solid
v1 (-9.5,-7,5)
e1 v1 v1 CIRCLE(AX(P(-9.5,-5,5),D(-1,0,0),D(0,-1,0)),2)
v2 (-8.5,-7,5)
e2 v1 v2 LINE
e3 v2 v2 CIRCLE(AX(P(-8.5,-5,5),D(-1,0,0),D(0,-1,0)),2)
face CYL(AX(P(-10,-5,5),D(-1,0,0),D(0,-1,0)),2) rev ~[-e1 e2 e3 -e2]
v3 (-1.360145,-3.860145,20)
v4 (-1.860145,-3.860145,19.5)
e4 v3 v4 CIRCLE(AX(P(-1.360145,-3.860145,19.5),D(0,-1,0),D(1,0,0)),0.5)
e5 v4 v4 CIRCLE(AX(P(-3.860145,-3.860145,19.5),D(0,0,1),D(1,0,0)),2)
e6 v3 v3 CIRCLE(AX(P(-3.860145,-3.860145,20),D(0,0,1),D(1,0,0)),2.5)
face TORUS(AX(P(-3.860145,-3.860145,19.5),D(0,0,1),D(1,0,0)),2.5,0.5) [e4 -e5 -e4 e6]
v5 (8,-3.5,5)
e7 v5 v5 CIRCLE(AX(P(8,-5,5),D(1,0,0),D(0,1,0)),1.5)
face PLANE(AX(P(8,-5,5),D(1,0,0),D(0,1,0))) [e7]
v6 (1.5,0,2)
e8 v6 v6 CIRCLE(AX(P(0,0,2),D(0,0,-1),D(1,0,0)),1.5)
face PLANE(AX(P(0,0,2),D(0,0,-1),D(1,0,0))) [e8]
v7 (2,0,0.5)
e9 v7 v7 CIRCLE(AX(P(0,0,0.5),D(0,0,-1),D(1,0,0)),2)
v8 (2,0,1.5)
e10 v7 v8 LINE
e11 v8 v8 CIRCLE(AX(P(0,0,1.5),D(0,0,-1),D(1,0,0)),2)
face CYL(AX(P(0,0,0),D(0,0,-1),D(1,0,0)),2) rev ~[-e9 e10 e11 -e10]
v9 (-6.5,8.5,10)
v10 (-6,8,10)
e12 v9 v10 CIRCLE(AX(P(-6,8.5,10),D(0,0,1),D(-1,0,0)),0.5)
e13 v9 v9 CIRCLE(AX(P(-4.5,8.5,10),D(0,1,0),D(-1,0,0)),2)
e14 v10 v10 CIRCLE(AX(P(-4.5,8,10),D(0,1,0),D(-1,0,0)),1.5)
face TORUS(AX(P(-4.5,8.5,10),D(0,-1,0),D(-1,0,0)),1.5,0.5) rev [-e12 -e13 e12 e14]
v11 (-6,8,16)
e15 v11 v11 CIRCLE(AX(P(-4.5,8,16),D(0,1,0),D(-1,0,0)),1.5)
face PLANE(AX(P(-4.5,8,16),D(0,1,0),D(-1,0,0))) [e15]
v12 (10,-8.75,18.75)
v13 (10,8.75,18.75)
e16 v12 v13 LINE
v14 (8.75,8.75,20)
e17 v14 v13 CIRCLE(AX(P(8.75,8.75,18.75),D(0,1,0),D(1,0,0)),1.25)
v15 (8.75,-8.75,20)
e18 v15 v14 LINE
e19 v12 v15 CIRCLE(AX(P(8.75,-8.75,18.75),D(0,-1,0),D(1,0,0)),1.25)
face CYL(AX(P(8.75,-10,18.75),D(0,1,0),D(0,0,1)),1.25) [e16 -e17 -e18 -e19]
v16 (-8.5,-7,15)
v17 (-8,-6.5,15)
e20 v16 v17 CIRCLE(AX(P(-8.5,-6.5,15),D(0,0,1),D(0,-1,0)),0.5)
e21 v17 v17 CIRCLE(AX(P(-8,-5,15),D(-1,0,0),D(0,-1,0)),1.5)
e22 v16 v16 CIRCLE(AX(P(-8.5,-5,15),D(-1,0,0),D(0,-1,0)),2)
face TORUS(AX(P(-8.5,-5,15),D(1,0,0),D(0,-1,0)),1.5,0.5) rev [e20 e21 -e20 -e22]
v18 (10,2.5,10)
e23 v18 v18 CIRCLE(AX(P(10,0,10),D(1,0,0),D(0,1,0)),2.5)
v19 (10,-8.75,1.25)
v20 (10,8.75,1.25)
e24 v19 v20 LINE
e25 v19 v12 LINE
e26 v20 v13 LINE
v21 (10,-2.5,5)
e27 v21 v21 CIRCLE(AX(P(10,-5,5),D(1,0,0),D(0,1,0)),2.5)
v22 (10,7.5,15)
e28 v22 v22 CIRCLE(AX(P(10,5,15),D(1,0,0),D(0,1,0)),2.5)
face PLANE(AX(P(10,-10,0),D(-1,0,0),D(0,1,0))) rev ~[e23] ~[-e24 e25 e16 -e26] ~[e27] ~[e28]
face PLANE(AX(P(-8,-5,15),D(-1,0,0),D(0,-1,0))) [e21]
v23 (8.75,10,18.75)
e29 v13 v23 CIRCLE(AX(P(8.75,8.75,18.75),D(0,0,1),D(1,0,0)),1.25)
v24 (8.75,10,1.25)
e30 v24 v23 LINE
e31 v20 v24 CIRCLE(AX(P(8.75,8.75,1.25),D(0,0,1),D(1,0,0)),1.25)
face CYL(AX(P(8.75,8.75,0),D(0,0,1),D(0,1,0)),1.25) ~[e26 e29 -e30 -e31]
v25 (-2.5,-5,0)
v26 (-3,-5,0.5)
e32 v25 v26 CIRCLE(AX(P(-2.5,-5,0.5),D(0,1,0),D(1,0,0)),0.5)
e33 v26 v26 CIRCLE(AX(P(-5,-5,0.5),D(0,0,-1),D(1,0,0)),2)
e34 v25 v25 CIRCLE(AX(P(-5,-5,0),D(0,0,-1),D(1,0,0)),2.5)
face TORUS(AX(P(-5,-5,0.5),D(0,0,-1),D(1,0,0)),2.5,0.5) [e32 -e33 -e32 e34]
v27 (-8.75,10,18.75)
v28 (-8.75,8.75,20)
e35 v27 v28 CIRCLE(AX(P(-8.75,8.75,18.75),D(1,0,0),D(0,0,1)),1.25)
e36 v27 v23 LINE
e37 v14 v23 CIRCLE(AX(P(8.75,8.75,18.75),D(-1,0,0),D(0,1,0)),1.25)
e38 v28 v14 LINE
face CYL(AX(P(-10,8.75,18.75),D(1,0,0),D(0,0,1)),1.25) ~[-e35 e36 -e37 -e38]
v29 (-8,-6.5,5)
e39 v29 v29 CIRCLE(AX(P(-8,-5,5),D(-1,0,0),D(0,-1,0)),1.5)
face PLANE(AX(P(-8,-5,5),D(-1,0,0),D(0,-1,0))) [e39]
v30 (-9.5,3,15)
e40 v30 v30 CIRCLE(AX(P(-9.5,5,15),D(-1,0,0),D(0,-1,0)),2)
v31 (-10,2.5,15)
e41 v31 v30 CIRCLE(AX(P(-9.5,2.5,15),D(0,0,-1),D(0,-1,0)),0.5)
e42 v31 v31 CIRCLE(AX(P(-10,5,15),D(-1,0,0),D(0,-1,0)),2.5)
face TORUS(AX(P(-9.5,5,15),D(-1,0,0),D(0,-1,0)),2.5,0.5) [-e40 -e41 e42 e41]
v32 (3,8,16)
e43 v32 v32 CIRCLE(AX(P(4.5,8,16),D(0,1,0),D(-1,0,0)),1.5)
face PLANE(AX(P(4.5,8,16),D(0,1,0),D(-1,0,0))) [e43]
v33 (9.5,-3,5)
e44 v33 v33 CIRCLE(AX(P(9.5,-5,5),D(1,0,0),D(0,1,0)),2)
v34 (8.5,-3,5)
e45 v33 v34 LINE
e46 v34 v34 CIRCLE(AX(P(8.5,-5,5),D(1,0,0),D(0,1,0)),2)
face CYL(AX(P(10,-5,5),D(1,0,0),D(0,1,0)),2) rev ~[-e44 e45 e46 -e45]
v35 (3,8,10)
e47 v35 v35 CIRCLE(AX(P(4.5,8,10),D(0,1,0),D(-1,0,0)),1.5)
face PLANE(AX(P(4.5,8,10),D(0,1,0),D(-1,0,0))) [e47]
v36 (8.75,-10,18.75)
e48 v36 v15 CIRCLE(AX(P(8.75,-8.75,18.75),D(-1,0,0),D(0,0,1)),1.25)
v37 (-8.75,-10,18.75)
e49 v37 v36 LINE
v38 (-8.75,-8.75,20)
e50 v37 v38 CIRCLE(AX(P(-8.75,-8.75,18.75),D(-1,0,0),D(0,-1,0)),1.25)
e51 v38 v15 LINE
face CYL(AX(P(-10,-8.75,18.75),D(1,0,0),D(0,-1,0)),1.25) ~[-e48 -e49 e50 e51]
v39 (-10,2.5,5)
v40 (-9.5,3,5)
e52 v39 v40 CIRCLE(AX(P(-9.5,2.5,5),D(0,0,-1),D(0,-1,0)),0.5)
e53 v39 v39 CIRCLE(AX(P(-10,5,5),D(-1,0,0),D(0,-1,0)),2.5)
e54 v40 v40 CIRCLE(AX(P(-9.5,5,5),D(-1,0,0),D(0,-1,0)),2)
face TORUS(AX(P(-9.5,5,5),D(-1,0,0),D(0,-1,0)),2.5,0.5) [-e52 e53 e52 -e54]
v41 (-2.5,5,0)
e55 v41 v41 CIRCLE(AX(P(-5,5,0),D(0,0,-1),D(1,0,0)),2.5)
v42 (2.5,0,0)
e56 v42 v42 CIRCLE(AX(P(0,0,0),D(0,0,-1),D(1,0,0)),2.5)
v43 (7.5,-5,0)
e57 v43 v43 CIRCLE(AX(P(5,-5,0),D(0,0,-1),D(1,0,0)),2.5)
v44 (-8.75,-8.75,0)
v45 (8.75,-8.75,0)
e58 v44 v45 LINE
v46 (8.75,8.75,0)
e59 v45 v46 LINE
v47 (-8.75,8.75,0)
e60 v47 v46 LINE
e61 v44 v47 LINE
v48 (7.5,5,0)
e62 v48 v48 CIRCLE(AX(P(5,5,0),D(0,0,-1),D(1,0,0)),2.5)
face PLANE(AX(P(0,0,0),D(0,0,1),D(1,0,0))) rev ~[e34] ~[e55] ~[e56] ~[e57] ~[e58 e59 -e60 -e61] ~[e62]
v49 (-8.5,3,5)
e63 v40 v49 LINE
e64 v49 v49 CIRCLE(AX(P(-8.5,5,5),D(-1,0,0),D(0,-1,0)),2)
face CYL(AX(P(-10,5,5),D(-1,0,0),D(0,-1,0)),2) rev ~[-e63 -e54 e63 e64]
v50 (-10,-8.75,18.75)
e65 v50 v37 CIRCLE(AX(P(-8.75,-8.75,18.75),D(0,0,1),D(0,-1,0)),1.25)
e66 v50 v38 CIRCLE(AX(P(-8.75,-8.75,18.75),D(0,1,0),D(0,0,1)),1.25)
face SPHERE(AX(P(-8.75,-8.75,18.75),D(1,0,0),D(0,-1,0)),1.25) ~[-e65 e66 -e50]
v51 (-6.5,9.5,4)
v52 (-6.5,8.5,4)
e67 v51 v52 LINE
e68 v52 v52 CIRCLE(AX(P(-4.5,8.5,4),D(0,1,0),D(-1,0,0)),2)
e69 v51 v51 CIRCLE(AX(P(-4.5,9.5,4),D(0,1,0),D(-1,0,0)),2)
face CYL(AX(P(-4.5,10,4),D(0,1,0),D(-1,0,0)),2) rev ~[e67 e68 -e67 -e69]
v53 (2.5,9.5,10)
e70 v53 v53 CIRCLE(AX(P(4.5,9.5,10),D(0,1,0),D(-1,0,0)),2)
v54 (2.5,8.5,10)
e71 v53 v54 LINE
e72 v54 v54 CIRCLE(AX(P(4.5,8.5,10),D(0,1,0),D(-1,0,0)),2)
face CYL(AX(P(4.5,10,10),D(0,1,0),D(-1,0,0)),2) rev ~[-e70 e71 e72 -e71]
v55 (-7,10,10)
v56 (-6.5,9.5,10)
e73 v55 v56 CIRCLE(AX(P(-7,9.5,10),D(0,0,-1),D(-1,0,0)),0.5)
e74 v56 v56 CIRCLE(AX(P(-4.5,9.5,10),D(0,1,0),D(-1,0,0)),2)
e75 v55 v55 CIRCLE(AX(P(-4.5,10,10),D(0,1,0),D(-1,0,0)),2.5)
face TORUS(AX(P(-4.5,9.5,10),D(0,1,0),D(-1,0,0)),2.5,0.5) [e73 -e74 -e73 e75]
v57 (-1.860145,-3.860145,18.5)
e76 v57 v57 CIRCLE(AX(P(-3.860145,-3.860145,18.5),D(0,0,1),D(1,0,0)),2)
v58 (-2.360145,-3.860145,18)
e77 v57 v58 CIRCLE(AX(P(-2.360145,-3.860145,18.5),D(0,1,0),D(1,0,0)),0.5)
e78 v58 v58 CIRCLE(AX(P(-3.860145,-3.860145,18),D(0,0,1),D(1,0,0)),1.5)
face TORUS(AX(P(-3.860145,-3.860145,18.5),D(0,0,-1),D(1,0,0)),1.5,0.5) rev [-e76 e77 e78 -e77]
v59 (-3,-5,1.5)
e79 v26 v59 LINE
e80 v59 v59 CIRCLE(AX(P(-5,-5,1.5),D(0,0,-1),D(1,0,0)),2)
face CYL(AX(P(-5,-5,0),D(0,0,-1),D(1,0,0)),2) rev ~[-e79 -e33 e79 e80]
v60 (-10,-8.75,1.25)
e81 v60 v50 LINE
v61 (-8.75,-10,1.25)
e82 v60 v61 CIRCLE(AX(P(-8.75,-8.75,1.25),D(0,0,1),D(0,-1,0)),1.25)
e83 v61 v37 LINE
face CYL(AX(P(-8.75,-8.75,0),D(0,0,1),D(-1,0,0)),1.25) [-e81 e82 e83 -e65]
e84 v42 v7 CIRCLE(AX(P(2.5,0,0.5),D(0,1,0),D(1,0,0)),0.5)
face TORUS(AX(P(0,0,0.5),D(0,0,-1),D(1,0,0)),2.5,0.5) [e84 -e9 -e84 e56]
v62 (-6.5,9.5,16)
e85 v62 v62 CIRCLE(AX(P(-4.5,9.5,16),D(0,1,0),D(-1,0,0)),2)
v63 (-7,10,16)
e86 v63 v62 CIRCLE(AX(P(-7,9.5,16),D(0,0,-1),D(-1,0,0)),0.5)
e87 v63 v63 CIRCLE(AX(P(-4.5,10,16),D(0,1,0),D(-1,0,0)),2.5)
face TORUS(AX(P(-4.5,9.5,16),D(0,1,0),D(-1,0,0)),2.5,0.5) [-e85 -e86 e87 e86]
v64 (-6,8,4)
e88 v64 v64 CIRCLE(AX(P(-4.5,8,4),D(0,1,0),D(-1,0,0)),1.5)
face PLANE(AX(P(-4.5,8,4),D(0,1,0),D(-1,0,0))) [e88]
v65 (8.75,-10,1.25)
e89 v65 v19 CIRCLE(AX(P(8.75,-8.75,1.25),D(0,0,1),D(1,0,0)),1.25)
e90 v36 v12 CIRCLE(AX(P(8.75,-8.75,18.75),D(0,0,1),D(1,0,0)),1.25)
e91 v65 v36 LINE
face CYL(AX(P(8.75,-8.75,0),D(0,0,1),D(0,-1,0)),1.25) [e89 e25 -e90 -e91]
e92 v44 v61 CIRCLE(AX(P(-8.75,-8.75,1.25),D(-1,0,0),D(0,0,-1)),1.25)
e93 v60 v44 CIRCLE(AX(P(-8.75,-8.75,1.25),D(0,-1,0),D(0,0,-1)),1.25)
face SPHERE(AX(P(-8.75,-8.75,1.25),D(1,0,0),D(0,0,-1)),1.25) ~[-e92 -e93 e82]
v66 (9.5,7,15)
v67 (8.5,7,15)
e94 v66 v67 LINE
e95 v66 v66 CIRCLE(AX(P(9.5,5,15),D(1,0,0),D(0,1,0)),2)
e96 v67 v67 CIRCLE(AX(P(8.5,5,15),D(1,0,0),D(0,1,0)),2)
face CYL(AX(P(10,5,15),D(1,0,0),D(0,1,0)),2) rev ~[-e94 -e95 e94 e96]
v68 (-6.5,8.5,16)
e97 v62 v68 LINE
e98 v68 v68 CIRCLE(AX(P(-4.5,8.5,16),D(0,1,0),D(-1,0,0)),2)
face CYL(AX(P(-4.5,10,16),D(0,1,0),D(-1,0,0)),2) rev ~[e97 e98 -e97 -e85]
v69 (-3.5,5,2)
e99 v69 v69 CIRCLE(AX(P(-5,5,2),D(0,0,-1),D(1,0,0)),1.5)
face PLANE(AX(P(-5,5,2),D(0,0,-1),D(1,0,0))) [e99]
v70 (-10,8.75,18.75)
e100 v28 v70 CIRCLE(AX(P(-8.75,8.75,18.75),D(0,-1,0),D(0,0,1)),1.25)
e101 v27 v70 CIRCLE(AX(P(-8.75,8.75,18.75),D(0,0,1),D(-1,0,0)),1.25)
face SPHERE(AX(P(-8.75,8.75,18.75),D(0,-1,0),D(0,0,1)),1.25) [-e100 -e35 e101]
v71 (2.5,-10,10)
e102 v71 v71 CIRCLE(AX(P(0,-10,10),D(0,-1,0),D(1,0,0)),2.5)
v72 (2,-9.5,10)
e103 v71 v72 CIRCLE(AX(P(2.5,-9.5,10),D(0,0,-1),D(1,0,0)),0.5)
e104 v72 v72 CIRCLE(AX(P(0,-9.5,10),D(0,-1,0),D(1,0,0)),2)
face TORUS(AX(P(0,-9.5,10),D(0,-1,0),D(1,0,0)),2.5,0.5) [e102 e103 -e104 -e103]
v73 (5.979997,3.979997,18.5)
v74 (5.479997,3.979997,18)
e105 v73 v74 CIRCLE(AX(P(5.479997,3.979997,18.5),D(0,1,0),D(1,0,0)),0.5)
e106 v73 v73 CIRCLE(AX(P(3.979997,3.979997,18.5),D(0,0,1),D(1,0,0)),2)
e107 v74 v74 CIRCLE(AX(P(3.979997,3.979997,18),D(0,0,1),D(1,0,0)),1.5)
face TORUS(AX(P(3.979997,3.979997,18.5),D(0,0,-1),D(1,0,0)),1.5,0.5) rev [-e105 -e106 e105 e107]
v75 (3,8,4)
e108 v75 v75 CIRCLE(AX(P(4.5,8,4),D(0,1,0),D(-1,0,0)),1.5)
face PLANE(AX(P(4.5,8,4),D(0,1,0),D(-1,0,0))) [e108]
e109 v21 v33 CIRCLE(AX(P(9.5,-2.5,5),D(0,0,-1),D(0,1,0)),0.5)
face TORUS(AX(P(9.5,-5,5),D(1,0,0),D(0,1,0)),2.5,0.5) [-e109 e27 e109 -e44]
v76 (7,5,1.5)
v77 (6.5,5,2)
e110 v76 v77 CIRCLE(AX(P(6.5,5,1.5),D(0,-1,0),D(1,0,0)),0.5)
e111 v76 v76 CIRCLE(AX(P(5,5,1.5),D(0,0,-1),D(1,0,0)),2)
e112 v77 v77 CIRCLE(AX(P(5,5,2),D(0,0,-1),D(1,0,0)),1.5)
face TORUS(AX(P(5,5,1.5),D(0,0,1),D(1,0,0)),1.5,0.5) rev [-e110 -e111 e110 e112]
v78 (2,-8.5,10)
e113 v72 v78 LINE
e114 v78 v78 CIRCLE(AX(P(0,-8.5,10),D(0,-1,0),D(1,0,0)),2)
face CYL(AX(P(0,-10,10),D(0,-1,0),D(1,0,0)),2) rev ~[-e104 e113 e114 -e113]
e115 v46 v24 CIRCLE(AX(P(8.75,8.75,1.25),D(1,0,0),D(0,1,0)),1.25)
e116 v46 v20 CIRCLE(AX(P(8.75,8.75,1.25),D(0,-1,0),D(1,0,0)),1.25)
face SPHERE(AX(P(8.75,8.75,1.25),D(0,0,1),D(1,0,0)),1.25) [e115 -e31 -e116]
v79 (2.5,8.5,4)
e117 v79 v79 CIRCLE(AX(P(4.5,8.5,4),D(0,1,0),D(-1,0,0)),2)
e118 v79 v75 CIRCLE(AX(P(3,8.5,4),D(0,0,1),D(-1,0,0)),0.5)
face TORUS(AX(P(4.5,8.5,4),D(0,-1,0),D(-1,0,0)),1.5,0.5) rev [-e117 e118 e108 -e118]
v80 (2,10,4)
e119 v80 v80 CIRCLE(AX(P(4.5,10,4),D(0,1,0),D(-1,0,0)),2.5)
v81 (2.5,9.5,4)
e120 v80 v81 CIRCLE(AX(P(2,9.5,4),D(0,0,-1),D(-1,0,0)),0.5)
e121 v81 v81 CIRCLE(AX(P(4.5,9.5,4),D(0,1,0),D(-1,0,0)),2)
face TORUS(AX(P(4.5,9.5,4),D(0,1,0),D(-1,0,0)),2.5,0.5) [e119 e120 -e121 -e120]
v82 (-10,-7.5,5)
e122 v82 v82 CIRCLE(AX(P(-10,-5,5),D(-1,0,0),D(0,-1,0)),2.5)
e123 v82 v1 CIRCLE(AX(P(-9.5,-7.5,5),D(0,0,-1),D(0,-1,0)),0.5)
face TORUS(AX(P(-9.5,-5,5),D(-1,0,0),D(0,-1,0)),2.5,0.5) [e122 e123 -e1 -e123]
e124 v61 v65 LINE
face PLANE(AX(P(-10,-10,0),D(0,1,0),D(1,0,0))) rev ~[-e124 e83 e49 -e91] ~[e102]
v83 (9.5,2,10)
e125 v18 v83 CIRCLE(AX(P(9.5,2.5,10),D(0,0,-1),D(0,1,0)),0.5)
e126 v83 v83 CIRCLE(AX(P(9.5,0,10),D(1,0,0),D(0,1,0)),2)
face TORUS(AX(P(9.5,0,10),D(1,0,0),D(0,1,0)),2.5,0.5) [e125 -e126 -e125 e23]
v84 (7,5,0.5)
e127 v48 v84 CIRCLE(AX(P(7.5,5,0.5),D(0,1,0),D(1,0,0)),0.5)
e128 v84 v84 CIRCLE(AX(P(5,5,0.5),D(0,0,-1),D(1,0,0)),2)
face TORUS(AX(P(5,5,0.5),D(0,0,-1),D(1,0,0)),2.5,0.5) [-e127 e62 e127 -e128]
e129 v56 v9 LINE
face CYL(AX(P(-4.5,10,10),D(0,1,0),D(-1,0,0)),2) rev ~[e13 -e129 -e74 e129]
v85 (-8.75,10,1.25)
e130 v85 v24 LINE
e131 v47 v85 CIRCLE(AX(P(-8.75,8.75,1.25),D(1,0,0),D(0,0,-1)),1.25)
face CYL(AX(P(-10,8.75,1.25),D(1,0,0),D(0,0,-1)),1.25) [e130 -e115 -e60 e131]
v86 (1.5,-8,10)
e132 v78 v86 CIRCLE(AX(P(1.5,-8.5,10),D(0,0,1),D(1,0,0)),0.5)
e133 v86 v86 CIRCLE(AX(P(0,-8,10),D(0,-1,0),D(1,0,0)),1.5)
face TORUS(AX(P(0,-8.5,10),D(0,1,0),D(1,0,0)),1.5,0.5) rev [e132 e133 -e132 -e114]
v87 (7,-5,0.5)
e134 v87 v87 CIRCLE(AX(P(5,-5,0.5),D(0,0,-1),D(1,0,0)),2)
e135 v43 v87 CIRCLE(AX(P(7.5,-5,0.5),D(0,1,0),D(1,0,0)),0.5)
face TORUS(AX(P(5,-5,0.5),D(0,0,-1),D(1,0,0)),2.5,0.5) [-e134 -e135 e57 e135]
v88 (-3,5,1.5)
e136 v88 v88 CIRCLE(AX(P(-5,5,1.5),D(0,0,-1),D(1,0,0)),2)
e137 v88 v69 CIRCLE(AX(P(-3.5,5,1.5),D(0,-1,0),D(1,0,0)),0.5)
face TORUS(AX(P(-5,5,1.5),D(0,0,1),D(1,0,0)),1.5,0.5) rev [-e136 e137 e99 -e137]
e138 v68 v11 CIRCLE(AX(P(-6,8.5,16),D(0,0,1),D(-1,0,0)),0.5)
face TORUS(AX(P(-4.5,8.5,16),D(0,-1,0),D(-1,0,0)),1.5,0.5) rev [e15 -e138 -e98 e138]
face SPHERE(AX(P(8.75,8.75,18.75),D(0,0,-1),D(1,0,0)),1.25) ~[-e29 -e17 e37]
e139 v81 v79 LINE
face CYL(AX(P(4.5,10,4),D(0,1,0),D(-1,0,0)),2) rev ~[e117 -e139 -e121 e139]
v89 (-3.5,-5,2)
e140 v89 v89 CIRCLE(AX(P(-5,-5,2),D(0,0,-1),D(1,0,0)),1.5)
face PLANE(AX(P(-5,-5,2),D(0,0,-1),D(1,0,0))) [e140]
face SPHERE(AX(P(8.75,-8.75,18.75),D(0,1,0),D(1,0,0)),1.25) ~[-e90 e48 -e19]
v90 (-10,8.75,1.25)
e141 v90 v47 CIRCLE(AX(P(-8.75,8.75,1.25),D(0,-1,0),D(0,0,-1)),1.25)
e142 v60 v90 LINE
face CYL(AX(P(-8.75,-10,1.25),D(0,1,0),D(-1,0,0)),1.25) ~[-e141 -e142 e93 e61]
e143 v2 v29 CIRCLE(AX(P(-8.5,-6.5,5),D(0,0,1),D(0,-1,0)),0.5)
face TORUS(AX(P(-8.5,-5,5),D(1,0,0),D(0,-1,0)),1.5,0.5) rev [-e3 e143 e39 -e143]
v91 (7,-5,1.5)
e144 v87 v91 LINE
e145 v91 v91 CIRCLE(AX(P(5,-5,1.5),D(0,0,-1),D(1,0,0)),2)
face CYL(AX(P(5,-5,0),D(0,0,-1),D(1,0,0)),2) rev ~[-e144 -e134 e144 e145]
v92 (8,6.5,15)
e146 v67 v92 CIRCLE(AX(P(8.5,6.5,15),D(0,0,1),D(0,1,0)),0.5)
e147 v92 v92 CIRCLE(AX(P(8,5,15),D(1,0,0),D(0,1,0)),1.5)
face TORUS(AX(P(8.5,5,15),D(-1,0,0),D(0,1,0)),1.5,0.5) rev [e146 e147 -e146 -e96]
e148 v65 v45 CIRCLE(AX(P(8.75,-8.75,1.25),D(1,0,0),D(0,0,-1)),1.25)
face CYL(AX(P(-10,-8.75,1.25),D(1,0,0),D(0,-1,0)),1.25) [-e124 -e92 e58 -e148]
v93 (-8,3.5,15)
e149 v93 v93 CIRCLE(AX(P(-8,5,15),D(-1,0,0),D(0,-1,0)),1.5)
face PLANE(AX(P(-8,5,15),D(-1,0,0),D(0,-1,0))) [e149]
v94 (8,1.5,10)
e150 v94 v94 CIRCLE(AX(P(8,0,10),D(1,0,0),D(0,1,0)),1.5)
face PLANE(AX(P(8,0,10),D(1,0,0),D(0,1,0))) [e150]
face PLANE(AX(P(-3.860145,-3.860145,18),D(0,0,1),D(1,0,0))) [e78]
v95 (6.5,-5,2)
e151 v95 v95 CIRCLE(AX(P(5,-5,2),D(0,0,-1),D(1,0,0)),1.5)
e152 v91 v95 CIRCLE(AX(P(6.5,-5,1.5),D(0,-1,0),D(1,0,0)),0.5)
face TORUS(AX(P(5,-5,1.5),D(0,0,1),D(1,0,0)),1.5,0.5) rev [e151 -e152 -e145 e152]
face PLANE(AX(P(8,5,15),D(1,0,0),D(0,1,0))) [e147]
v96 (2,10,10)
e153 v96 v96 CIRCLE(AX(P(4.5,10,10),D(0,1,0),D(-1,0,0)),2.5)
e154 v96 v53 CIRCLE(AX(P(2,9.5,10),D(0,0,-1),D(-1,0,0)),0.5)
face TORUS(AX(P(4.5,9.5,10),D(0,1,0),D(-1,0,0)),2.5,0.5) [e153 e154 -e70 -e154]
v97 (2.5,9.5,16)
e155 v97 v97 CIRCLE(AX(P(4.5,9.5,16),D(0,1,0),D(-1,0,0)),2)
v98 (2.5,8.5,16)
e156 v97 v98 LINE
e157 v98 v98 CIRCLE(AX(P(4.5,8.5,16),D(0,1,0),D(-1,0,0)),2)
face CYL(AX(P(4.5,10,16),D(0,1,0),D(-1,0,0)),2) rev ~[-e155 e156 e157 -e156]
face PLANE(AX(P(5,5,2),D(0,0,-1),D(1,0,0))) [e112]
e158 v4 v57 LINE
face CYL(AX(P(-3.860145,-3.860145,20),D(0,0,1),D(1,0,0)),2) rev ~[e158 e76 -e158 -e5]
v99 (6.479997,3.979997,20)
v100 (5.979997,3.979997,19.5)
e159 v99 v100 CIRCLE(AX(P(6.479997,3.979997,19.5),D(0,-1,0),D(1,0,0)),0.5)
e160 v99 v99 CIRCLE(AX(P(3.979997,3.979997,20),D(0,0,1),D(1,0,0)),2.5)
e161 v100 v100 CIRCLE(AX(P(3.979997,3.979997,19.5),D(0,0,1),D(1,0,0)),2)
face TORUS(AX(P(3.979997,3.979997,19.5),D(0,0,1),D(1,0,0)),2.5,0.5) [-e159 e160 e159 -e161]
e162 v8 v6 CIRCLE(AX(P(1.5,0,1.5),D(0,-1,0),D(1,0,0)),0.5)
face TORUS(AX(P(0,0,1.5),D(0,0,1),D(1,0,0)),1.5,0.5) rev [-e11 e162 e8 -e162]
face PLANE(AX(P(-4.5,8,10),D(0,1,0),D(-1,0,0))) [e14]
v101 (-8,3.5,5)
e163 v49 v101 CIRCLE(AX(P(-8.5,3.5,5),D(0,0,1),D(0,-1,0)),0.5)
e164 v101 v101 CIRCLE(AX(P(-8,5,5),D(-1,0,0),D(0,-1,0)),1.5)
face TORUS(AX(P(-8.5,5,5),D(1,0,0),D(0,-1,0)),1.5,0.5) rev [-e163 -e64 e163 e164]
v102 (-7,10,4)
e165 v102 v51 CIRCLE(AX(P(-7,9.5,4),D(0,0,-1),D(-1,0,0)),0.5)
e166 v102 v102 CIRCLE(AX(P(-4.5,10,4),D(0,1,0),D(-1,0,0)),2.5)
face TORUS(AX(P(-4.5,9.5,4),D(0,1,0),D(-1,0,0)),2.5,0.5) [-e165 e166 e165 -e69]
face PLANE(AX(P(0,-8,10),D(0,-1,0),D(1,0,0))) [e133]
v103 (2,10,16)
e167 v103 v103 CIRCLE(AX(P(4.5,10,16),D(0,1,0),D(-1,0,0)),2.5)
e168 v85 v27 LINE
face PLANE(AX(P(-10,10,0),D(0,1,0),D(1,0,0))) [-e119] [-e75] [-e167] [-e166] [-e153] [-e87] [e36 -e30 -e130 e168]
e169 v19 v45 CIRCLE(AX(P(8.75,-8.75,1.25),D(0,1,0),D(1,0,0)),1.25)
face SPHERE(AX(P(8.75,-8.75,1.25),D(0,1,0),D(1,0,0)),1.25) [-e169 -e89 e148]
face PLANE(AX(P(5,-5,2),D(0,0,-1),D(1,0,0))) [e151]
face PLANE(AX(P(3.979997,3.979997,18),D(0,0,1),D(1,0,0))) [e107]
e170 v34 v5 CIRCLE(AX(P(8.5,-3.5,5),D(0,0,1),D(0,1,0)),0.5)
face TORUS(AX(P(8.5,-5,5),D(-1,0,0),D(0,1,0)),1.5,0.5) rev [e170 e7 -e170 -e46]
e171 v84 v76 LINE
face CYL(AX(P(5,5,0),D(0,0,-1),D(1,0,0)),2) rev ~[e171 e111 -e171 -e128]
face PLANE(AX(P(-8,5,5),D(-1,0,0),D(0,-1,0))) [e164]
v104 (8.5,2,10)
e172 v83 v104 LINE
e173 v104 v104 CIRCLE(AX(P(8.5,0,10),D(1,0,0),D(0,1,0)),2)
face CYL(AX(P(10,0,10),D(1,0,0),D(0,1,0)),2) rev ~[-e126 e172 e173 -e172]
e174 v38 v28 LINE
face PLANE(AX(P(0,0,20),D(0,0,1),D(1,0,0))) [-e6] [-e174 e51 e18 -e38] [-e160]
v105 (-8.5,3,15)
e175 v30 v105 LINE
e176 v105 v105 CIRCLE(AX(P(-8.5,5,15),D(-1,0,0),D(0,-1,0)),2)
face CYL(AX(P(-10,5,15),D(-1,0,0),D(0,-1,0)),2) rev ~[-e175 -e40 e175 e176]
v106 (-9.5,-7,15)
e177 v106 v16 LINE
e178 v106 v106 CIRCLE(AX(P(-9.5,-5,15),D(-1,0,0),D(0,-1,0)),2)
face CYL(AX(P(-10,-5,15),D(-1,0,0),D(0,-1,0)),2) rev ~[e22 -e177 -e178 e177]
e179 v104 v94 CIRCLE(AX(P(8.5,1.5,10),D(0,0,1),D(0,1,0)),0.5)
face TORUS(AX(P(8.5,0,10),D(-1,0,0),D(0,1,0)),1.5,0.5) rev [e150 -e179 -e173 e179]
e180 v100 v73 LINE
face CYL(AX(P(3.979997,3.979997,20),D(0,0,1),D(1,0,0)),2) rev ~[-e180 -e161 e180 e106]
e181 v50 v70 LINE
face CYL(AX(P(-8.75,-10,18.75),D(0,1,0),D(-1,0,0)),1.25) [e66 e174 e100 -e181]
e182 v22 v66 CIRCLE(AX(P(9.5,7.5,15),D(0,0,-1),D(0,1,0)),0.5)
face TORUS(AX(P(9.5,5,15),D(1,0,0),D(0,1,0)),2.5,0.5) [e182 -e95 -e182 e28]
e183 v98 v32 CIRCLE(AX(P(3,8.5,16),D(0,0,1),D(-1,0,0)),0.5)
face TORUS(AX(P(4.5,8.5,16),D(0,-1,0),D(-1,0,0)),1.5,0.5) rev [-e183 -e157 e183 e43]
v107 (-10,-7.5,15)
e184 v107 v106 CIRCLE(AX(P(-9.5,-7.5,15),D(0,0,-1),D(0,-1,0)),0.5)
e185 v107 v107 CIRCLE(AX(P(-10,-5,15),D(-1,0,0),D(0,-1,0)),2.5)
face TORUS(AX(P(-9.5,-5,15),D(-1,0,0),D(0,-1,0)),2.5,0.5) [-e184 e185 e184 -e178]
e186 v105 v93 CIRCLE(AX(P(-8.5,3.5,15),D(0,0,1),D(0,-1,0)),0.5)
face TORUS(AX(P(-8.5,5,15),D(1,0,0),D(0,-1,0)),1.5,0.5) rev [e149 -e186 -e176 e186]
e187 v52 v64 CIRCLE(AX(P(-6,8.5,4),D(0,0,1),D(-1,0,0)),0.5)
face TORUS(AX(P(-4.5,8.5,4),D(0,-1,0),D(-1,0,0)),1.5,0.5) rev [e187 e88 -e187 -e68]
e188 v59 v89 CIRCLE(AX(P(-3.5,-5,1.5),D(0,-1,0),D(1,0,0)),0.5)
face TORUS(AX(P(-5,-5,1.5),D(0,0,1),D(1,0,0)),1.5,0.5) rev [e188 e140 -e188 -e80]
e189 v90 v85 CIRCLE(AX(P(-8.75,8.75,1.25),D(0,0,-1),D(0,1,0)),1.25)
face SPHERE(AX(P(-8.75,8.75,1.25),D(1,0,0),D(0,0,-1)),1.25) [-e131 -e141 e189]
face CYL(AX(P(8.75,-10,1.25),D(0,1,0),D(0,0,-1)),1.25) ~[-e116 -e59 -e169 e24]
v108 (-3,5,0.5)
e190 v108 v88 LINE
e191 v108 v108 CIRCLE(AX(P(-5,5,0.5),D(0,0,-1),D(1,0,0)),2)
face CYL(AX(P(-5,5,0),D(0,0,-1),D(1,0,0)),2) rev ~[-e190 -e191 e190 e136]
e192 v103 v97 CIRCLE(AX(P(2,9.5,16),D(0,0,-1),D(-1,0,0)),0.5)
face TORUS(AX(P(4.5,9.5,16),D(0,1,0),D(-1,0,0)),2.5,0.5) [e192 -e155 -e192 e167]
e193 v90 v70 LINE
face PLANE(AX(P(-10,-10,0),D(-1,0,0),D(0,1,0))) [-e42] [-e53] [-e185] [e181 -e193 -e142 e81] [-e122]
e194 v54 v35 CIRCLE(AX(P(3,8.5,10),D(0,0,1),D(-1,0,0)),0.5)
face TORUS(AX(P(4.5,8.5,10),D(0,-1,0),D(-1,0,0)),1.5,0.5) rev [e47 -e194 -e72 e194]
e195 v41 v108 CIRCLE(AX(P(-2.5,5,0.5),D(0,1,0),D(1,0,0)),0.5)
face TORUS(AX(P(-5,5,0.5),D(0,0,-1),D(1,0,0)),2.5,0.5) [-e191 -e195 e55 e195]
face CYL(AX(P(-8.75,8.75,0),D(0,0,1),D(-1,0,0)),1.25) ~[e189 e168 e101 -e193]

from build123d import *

# Parameters (mm, degrees)
F2_W      = 20
F2_H      = 20
F3_DEPTH  = 20
F4_R      = 2
F10_DEPTH = 2
F5_R      = 2
F11_DEPTH = 2
F8_R      = 2
F12_DEPTH = 2
F9_R      = 2
F13_DEPTH = 2
F7_R      = 2
F14_DEPTH = 2
F6_R      = 2
F15_DEPTH = 2
F16_R     = 0.5
F17_R     = 1.25


with BuildPart() as f3:
    # F2 (on Top) → F3 (new body)
    with BuildSketch(Plane.XY):
        Rectangle(F2_W, F2_H)
    extrude(amount=F3_DEPTH)

    # F4 (on face) → F10 (cut)
    with BuildSketch(Plane.XZ.offset(10)):
        with Locations((0, 10)):
            Circle(F4_R)
    extrude(amount=-F10_DEPTH, mode=Mode.SUBTRACT)

    # F5 (on face) → F11 (cut)
    with BuildSketch(Plane.XY.offset(20)):
        with Locations((-3.8601454029, -3.8601454029)):
            Circle(F5_R)
        with Locations((3.9799973459, 3.9799973459)):
            Circle(F5_R)
    extrude(amount=-F11_DEPTH, mode=Mode.SUBTRACT)

    # F8 (on face) → F12 (cut)
    with BuildSketch(Plane.YZ.offset(10)):
        with Locations((-5, 5)):
            Circle(F8_R)
        with Locations((5, 15)):
            Circle(F8_R)
        with Locations((0, 10)):
            Circle(F8_R)
    extrude(amount=-F12_DEPTH, mode=Mode.SUBTRACT)

    # F9 (on face) → F13 (cut)
    with BuildSketch(Plane(origin=(-10, 0, 0), x_dir=(0, -1, 0), z_dir=(-1, 0, 0))):
        with Locations((-5, 15)):
            Circle(F9_R)
        with Locations((5, 15)):
            Circle(F9_R)
        with Locations((5, 5)):
            Circle(F9_R)
        with Locations((-5, 5)):
            Circle(F9_R)
    extrude(amount=-F13_DEPTH, mode=Mode.SUBTRACT)

    # F7 (on face) → F14 (cut)
    with BuildSketch(Plane(origin=(0, 0, 0), x_dir=(1, 0, 0), z_dir=(0, 0, -1))):
        with Locations((-5, -5)):
            Circle(F7_R)
        with Locations((5, -5)):
            Circle(F7_R)
        Circle(F7_R)
        with Locations((-5, 5)):
            Circle(F7_R)
        with Locations((5, 5)):
            Circle(F7_R)
    extrude(amount=-F14_DEPTH, mode=Mode.SUBTRACT)

    # F6 (on face) → F15 (cut)
    with BuildSketch(Plane(origin=(0, 10, 0), x_dir=(-1, 0, 0), z_dir=(0, 1, 0))):
        with Locations((4.5, 16)):
            Circle(F6_R)
        with Locations((4.5, 10)):
            Circle(F6_R)
        with Locations((4.5, 4)):
            Circle(F6_R)
        with Locations((-4.5, 4)):
            Circle(F6_R)
        with Locations((-4.5, 10)):
            Circle(F6_R)
        with Locations((-4.5, 16)):
            Circle(F6_R)
    extrude(amount=-F15_DEPTH, mode=Mode.SUBTRACT)

    # F16
    f16_edges = [f3.edges().sort_by_distance(p)[0] for p in [
        (1.979997, 3.979997, 20),
        (-5.860145, -3.860145, 20),
        (1.979997, 3.979997, 18),
        (-5.860145, -3.860145, 18),
        (-2, -8, 10),
        (-2, -10, 10),
        (8, 3, 15),
        (10, 3, 15),
        (8, -2, 10),
        (10, -2, 10),
        (8, -7, 5),
        (10, -7, 5),
        (6.5, 8, 16),
        (-2.5, 8, 16),
        (-2.5, 10, 16),
        (6.5, 10, 16),
        (6.5, 8, 10),
        (6.5, 10, 10),
        (-2.5, 8, 10),
        (-2.5, 10, 10),
        (-2.5, 8, 4),
        (-2.5, 10, 4),
        (6.5, 8, 4),
        (6.5, 10, 4),
        (-8, 7, 15),
        (-10, 7, 15),
        (-8, -3, 15),
        (-10, -3, 15),
        (-8, 7, 5),
        (-10, 7, 5),
        (-8, -3, 5),
        (-10, -3, 5),
        (-7, 5, 2),
        (-7, 5, 0),
        (-2, 0, 2),
        (-2, 0, 0),
        (-7, -5, 2),
        (-3, -5, 1),
        (-7, -5, 0),
        (3, -5, 2),
        (3, -5, 0),
        (3, 5, 2),
        (3, 5, 0),
    ]]
    fillet(f16_edges, radius=F16_R)

    # F17
    f17_edges = [f3.edges().sort_by_distance(p)[0] for p in [
        (10, 10, 10),
        (10, 0, 0),
        (0, 10, 0),
        (10, 0, 20),
        (10, -10, 10),
        (0, -10, 0),
        (-10, 0, 0),
        (0, -10, 20),
        (-10, -10, 10),
        (-10, 0, 20),
        (0, 10, 20),
        (-10, 10, 10),
        (-7.5, 5, 0),
    ]]
    fillet(f17_edges, radius=F17_R)


solid = f3.part
